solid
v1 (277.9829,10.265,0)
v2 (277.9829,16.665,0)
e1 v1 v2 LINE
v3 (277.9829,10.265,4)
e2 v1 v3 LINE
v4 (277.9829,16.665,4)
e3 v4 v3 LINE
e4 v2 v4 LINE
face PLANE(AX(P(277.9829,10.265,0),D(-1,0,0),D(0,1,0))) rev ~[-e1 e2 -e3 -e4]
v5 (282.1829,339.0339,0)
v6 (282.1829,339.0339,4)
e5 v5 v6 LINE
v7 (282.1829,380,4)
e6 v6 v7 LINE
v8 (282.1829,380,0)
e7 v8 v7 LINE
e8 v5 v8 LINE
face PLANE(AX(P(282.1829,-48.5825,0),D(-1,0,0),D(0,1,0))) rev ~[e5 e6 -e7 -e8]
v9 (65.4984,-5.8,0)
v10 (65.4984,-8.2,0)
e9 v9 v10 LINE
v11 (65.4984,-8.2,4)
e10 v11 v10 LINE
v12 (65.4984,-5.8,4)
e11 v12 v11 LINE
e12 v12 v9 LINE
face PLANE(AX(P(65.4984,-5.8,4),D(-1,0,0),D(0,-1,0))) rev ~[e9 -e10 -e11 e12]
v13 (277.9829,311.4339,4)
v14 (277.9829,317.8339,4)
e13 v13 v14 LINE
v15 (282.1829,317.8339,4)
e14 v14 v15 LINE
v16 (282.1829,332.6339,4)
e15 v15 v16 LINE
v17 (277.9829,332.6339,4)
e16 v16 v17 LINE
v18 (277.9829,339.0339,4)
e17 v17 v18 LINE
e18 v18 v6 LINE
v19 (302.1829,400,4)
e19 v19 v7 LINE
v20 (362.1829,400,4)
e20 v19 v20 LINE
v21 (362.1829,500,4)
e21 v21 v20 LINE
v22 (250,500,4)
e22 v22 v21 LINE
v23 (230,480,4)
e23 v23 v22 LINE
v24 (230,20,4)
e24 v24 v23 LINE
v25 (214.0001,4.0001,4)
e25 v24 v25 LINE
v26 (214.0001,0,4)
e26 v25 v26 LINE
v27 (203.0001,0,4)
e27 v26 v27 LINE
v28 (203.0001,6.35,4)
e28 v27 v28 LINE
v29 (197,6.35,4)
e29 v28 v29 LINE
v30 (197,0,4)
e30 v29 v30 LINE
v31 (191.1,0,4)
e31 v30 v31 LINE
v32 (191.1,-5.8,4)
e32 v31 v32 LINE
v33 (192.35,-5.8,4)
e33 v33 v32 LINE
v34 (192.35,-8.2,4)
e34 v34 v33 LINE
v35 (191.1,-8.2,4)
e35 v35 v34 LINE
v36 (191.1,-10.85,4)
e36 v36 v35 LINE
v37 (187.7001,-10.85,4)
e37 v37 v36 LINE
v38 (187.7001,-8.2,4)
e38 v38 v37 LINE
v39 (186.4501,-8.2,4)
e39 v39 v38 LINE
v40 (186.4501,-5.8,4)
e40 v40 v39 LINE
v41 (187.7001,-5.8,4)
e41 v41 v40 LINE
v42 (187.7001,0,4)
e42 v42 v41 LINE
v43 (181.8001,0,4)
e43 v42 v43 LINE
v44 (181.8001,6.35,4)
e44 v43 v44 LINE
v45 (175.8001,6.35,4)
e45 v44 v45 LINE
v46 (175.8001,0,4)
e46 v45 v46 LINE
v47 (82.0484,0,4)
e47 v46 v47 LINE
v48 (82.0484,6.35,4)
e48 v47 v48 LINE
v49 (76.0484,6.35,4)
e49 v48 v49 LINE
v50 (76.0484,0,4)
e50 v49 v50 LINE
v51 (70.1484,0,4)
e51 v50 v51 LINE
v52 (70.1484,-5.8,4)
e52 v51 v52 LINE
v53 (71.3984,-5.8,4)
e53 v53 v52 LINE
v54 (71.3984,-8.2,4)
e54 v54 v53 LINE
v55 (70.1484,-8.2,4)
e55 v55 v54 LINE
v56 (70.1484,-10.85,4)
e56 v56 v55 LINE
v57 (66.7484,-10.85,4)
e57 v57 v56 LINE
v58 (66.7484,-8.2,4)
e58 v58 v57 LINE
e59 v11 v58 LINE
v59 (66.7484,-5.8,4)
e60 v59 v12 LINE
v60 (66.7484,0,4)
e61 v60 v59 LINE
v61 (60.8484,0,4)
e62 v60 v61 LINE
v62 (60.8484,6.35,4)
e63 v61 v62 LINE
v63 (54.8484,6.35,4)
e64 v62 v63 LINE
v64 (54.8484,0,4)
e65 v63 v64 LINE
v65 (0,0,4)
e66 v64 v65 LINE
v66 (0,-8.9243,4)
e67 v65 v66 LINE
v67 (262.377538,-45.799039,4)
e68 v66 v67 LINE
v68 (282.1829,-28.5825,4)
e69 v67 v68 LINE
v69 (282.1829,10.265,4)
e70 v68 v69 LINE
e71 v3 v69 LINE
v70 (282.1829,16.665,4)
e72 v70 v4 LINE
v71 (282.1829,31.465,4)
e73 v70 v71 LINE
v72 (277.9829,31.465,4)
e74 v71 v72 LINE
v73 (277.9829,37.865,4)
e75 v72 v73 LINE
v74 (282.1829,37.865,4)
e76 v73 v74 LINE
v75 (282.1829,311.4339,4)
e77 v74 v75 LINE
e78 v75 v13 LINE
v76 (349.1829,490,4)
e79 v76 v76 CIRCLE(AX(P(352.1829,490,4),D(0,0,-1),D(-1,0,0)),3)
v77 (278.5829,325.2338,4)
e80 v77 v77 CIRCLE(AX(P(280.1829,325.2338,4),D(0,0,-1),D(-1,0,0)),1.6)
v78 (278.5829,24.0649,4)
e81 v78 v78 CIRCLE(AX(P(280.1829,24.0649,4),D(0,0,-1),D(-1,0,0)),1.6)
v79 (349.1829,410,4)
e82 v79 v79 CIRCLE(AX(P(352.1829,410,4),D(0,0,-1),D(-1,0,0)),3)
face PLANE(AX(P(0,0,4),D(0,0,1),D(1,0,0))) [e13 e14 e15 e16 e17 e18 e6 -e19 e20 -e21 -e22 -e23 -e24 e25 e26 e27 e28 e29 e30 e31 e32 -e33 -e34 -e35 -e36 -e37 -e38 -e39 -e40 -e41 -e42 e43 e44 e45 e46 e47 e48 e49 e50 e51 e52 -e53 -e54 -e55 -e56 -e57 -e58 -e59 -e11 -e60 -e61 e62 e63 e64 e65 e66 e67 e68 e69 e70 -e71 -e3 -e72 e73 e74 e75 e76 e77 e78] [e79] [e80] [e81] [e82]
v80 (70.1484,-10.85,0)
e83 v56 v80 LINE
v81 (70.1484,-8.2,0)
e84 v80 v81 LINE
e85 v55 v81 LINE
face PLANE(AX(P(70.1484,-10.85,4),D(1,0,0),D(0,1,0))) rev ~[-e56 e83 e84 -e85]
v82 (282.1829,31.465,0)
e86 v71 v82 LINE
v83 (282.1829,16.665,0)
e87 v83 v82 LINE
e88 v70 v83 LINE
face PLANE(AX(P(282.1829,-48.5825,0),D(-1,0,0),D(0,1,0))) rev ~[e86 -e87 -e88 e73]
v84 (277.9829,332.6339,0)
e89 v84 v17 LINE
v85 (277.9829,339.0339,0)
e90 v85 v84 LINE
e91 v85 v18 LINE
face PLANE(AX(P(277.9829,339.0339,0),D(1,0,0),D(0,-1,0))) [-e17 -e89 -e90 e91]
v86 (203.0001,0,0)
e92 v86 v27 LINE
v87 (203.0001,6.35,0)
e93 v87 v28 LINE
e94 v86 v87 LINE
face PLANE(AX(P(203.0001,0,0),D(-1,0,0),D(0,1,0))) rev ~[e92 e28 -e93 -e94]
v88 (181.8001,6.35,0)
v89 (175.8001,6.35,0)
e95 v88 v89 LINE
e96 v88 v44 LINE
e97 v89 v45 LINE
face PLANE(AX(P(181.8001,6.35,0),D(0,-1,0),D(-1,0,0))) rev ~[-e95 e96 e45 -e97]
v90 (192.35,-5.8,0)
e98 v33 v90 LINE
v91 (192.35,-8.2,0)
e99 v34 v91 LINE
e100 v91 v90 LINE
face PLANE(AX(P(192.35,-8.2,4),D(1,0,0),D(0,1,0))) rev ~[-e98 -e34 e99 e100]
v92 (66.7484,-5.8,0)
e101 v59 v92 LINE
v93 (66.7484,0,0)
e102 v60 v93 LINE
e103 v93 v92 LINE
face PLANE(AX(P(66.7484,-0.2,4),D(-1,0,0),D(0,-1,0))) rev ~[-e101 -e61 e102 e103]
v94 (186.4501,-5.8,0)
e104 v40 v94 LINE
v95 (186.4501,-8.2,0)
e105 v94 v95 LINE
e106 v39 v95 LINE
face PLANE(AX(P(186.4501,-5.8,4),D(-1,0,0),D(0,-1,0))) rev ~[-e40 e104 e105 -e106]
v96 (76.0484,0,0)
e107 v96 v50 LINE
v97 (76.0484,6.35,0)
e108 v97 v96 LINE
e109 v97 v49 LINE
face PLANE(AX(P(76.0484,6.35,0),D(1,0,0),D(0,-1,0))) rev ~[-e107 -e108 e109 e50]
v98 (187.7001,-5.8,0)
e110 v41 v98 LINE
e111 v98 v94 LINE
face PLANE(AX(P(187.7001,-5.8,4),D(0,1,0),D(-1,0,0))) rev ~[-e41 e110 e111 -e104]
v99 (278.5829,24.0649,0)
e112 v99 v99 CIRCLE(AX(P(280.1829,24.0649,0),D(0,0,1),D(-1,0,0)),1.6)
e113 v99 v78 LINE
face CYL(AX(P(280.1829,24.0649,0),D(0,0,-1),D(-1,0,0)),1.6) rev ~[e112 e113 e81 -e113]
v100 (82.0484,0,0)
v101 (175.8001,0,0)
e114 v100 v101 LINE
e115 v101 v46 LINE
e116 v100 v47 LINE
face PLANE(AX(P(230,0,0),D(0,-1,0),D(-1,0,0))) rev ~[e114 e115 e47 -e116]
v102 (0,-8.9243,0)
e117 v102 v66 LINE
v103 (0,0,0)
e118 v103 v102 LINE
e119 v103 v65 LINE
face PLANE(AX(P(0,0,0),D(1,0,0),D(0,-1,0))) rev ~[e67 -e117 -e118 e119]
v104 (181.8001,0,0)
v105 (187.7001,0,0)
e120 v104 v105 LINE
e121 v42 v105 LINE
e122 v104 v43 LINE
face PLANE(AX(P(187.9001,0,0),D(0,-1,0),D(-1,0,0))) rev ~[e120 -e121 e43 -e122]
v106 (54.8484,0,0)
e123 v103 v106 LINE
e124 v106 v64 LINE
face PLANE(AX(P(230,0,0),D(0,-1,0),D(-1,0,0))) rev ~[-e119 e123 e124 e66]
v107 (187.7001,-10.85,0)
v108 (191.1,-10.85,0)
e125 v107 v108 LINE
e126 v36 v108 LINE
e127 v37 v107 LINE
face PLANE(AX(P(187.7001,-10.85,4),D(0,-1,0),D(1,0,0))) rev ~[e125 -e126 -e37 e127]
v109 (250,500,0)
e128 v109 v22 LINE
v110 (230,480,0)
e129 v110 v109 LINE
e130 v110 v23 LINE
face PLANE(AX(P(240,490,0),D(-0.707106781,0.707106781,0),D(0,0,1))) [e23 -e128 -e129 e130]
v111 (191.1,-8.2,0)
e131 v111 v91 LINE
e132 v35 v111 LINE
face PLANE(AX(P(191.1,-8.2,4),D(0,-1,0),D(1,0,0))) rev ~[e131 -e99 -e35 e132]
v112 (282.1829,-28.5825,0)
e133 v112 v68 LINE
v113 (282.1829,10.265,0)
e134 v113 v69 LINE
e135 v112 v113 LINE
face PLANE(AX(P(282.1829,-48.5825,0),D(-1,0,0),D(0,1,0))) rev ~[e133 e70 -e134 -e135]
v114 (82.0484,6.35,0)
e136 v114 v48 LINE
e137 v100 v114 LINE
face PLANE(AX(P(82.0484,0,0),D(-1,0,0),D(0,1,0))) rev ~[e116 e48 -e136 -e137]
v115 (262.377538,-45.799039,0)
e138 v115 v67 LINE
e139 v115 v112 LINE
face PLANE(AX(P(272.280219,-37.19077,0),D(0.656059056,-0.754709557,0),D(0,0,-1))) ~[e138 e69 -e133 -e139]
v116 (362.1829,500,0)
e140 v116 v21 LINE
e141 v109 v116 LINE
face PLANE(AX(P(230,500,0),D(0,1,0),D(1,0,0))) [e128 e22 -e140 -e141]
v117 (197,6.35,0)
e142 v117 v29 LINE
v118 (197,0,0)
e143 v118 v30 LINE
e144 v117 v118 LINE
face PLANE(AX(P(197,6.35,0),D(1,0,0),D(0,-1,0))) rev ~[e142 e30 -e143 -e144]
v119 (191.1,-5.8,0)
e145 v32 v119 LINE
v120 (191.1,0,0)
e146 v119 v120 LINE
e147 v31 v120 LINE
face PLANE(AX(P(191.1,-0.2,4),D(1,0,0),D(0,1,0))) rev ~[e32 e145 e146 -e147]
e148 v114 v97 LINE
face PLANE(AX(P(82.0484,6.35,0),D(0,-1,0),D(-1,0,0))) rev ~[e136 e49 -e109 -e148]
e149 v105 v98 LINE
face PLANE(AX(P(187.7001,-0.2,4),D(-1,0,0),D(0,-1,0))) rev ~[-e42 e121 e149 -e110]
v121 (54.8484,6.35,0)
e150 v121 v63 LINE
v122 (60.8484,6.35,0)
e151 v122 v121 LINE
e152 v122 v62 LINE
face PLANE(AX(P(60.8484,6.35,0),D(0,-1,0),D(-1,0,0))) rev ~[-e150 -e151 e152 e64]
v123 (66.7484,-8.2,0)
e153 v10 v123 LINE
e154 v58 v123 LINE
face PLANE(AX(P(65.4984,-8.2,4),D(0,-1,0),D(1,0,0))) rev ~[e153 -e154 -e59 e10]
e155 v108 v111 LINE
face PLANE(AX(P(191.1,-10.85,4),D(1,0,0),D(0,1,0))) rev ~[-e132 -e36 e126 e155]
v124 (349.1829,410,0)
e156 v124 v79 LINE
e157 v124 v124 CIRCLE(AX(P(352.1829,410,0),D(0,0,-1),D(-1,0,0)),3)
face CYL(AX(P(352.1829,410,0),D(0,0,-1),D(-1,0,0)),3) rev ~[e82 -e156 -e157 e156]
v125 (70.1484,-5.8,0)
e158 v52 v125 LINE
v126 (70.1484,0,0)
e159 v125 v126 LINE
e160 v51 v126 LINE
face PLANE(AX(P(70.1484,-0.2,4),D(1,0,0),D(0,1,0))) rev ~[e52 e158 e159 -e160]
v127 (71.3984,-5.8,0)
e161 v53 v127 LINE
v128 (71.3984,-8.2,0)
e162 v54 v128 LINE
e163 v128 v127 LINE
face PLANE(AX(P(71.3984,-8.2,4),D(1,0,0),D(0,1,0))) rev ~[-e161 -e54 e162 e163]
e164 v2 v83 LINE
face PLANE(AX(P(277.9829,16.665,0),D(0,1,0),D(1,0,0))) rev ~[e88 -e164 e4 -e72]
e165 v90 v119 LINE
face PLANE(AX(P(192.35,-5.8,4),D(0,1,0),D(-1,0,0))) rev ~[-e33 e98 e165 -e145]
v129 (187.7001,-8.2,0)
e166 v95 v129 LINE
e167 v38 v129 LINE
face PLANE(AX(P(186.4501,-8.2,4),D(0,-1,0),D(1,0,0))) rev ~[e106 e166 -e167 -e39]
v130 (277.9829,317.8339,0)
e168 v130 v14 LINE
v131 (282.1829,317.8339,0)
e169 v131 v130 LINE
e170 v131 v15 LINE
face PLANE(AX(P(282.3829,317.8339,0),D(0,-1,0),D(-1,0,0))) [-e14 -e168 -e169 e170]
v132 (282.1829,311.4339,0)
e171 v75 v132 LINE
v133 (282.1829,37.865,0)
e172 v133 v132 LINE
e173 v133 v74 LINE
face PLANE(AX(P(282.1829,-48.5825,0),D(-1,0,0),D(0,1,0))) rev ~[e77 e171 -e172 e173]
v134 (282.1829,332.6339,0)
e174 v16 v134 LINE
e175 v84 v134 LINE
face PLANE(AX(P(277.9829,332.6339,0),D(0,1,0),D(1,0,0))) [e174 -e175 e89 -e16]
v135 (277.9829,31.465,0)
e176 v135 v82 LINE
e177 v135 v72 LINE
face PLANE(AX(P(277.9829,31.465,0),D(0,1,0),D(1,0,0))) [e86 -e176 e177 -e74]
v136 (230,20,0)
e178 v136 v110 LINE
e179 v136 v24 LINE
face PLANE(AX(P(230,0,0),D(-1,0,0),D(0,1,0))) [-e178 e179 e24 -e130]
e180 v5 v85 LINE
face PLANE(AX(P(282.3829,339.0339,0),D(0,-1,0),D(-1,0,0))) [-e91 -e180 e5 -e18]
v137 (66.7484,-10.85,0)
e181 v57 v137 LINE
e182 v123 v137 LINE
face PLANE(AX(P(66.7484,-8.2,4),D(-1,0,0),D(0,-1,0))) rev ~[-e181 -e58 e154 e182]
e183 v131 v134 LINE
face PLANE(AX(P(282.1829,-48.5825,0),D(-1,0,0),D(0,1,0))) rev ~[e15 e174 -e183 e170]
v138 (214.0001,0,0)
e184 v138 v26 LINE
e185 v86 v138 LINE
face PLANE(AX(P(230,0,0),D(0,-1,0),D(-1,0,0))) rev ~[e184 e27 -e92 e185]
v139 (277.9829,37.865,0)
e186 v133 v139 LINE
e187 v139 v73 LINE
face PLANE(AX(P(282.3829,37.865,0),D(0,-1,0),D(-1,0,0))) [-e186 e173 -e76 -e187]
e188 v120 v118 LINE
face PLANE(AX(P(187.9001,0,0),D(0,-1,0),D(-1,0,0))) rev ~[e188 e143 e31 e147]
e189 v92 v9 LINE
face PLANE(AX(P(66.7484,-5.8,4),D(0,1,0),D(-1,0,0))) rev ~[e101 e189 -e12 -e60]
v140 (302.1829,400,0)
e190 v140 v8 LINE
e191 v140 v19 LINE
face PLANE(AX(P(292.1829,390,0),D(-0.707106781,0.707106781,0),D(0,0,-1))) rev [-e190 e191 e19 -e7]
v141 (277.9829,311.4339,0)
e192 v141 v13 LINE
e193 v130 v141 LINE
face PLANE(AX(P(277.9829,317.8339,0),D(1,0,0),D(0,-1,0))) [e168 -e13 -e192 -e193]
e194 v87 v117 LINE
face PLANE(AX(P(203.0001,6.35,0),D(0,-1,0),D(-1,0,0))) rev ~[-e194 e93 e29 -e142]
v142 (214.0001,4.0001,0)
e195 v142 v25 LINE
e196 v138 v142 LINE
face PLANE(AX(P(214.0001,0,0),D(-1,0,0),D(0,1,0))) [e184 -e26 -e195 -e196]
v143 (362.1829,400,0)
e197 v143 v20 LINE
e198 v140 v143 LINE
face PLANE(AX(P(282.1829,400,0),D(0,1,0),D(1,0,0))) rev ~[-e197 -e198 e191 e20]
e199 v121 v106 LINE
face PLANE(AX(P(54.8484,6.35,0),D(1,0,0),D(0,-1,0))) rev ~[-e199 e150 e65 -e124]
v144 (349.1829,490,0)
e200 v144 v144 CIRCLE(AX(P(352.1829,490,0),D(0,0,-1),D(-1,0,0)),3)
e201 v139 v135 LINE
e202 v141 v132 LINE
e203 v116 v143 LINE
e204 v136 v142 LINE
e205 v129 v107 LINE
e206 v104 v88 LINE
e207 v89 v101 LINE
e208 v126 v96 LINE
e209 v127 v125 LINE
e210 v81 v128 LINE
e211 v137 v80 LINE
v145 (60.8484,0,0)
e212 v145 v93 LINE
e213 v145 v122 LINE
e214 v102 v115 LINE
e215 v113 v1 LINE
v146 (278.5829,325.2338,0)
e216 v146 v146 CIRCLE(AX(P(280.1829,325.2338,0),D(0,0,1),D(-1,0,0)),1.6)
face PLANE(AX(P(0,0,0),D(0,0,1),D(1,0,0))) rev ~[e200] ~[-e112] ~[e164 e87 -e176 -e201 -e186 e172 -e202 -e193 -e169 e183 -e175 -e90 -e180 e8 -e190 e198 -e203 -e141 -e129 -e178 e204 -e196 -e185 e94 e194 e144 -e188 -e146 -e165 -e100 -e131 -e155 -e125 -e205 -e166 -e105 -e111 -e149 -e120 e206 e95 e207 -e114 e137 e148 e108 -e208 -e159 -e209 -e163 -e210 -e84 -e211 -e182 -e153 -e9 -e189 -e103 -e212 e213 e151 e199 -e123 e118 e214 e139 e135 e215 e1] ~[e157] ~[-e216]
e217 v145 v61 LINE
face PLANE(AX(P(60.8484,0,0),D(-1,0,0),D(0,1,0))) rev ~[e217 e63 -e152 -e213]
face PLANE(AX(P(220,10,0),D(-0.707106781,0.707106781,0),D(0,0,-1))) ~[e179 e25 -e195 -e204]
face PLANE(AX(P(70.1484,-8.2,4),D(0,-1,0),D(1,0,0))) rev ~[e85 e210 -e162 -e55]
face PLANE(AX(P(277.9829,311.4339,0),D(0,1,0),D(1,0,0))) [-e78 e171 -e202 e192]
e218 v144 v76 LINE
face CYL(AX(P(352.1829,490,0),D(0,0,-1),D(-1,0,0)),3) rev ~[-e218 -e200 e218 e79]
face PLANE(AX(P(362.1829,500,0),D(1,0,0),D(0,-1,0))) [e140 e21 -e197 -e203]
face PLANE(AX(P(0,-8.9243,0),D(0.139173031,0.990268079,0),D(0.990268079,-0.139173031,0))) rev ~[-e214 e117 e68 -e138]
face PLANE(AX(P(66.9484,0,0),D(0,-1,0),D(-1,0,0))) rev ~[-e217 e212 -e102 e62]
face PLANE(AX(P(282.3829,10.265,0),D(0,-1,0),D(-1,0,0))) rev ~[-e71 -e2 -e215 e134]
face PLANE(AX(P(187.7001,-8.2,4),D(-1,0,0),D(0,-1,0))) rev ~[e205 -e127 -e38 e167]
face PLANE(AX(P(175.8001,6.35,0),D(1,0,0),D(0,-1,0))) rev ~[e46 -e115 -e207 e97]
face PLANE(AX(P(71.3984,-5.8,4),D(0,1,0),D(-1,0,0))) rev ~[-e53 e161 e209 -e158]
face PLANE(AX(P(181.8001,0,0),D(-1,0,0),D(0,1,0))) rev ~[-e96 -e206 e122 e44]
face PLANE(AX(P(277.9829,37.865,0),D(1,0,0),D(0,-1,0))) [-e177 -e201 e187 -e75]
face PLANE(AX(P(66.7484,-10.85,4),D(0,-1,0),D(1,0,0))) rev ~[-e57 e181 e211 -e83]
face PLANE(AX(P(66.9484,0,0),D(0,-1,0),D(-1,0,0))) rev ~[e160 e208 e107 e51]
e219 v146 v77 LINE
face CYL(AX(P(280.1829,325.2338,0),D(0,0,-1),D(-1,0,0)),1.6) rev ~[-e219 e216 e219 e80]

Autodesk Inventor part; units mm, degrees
ref_plane "YZ Plane" through (0, 0, 0) normal (1, 0, 0) x (0, 1, 0)
ref_plane "XZ Plane" through (0, 0, 0) normal (0, 1, 0) x (-1, 0, 0)
ref_plane "XY Plane" through (0, 0, 0) normal (0, 0, 1) x (1, 0, 0)
sketch "Sketch1" plane through (0, 0, 0) normal (0, 0, 1) x (1, 0, 0)
  line L0 (230, 0) -> (0, 0) projected
  line L1 (0, 0) -> (0, -8.9243)
  line L2 (0, -8.9243) -> (282.1829, -48.5825)
  line L3 (282.1829, -48.5825) -> (282.1829, 400)
  line L4 (230, 0) -> (230, 500)
  line L5 (282.1829, 400) -> (362.1829, 400)
  line L6 (230, 500) -> (362.1829, 500)
  line L7 (362.1829, 500) -> (362.1829, 400)
  dimension "d0" = 400
  dimension "d1" = 8
  dimension "d10" = 80
  dimension "d11" = 100
extrude "Extrusion1" add sketch "Sketch1" along normal blind 4
chamfer "Chamfer1" distance 20 angle 45 2 edges at (230, 500, 2) (282.1829, 400, 2)
chamfer "Chamfer2" distance 20 angle 45 2 edges at (230, 0, 2) (282.1829, -48.5825, 2)
sketch "Sketch2" plane through (0, 0, 0) normal (0, 0, -1) x (-1, 0, 0)
  point P0 (0, 0)
sketch "Sketch3" plane through (0, 0, 0) normal (0, 0, -1) x (-1, 0, 0)
  point P0 (0, 0)
sketch "Sketch4" plane through (0, 0, 0) normal (0, 0, -1) x (-1, 0, 0)
  point P0 (0, 0)
sketch "Sketch5" plane through (0, 0, 0) normal (0, 0, -1) x (-1, 0, 0)
  line L0 (-278.1829, 10.465) -> (-278.1829, 16.465) construction
  line L1 (-282.1829, 16.465) -> (-278.1829, 16.465) construction
  line L2 (-282.1829, 10.465) -> (-282.1829, 16.465) construction
  line L3 (-282.1829, 10.465) -> (-278.1829, 10.465) construction
  line L4 (-278.1829, 31.665) -> (-278.1829, 37.665) construction
  line L5 (-282.1829, 37.665) -> (-278.1829, 37.665) construction
  line L6 (-282.1829, 31.665) -> (-282.1829, 37.665) construction
  line L7 (-282.1829, 31.665) -> (-278.1829, 31.665) construction
  line L8 (-278.1829, 332.8339) -> (-278.1829, 338.8339) construction
  line L9 (-282.1829, 338.8339) -> (-278.1829, 338.8339) construction
  line L10 (-282.1829, 332.8339) -> (-282.1829, 338.8339) construction
  line L11 (-282.1829, 332.8339) -> (-278.1829, 332.8339) construction
  line L12 (-278.1829, 311.6339) -> (-278.1829, 317.6339) construction
  line L13 (-282.1829, 317.6339) -> (-278.1829, 317.6339) construction
  line L14 (-282.1829, 311.6339) -> (-282.1829, 317.6339) construction
  line L15 (-282.1829, 311.6339) -> (-278.1829, 311.6339) construction
  line L16 (-277.9829, 339.0339) -> (-277.9829, 332.6339)
  line L17 (-277.9829, 332.6339) -> (-282.3829, 332.6339)
  line L18 (-282.3829, 332.6339) -> (-282.3829, 339.0339)
  line L19 (-282.3829, 339.0339) -> (-277.9829, 339.0339)
  line L20 (-277.9829, 317.8339) -> (-277.9829, 311.4339)
  line L21 (-277.9829, 311.4339) -> (-282.3829, 311.4339)
  line L22 (-282.3829, 311.4339) -> (-282.3829, 317.8339)
  line L23 (-282.3829, 317.8339) -> (-277.9829, 317.8339)
  line L24 (-277.9829, 37.865) -> (-277.9829, 31.465)
  line L25 (-277.9829, 31.465) -> (-282.3829, 31.465)
  line L26 (-282.3829, 31.465) -> (-282.3829, 37.865)
  line L27 (-282.3829, 37.865) -> (-277.9829, 37.865)
  line L28 (-277.9829, 10.265) -> (-277.9829, 16.665)
  line L29 (-277.9829, 16.665) -> (-282.3829, 16.665)
  line L30 (-282.3829, 16.665) -> (-282.3829, 10.265)
  line L31 (-282.3829, 10.265) -> (-277.9829, 10.265)
  point P0 (0, 0)
  dimension "d24" = 0.2
  dimension "d25" = 0.2
  dimension "d26" = 0.2
  dimension "d27" = 0.2
extrude "Extrusion2" cut sketch "Sketch5" against normal blind 25.4
sketch "Sketch6" plane through (0, 0, 0) normal (0, 0, -1) x (-1, 0, 0)
  line L0 (-278.1829, 25.5649) -> (-278.1829, 22.5649) projected
  line L1 (-282.1829, 25.5649) -> (-278.1829, 25.5649) projected
  line L2 (-282.1829, 22.5649) -> (-282.1829, 25.5649) projected
  line L3 (-282.1829, 22.5649) -> (-278.1829, 22.5649) projected
  line L4 (-278.1829, 326.7338) -> (-278.1829, 323.7338) projected
  line L5 (-282.1829, 326.7338) -> (-278.1829, 326.7338) projected
  line L6 (-282.1829, 323.7338) -> (-282.1829, 326.7338) projected
  line L7 (-282.1829, 323.7338) -> (-278.1829, 323.7338) projected
  circle A0 centre (-280.1829, 325.2338) radius 1.6
  circle A1 centre (-280.1829, 24.0649) radius 1.6
  point P0 (0, 0)
  dimension "d14" = 3.2
  dimension "d15" = 3.2
extrude "Extrusion3" cut sketch "Sketch6" against normal through all contours A1 L3 L1 | L1 A1 | A1 L3 | A0 L7 L5 | L5 A0 | A0 L7
sketch "Sketch7" plane through (0, 0, 0) normal (0, 0, -1) x (-1, 0, 0)
  line L0 (-230, 4.0001) -> (-214.0001, 4.0001) projected
  line L1 (-210, 0) -> (-230, 20) projected
  line L2 (-210, 0) -> (-214.0001, 0)
  line L3 (-214.0001, 0) -> (-214.0001, 4.0001)
  line L4 (-214.0001, 4.0001) -> (-210, 4.0001)
  line L5 (-210, 4.0001) -> (-210, 0)
  point P0 (0, 0)
extrude "Extrusion4" cut sketch "Sketch7" against normal blind 25.4
sketch "Sketch8" plane through (0, 0, 0) normal (0, 0, -1) x (-1, 0, 0)
  line L0 (-209.8759, -14.6536) -> (-209.8759, 0) projected
  line L1 (-168.9242, -14.6536) -> (-209.8759, -14.6536) projected
  line L2 (-168.9242, 0) -> (-168.9242, -14.6536) projected
  line L3 (-175.8001, 0) -> (-168.9242, 0) projected
  line L4 (-175.8001, 6.35) -> (-175.8001, 0) projected
  line L5 (-181.8001, 6.35) -> (-175.8001, 6.35) projected
  line L6 (-181.8001, 0) -> (-181.8001, 6.35) projected
  line L7 (-187.9001, 0) -> (-181.8001, 0) projected
  line L8 (-187.9001, -6) -> (-187.9001, 0) projected
  line L9 (-186.6501, -6) -> (-187.9001, -6) projected
  line L10 (-186.6501, -8) -> (-186.6501, -6) projected
  line L11 (-187.9001, -8) -> (-186.6501, -8) projected
  line L12 (-187.9001, -10.65) -> (-187.9001, -8) projected
  line L13 (-190.9, -10.65) -> (-187.9001, -10.65) projected
  line L14 (-190.9, -8) -> (-190.9, -10.65) projected
  line L15 (-192.15, -8) -> (-190.9, -8) projected
  line L16 (-192.15, -6) -> (-192.15, -8) projected
  line L17 (-190.9, -6) -> (-192.15, -6) projected
  line L18 (-190.9, 0) -> (-190.9, -6) projected
  line L19 (-197, 0) -> (-190.9, 0) projected
  line L20 (-197, 6.35) -> (-197, 0) projected
  line L21 (-203.0001, 6.35) -> (-197, 6.35) projected
  line L22 (-203.0001, 0) -> (-203.0001, 6.35) projected
  line L23 (-209.8759, 0) -> (-203.0001, 0) projected
  line L24 (-88.9242, -14.6536) -> (-88.9242, 0) projected
  line L25 (-47.9725, -14.6536) -> (-88.9242, -14.6536) projected
  line L26 (-47.9725, 0) -> (-47.9725, -14.6536) projected
  line L27 (-54.8484, 0) -> (-47.9725, 0) projected
  line L28 (-54.8484, 6.35) -> (-54.8484, 0) projected
  line L29 (-60.8484, 6.35) -> (-54.8484, 6.35) projected
  line L30 (-60.8484, 0) -> (-60.8484, 6.35) projected
  line L31 (-66.9484, 0) -> (-60.8484, 0) projected
  line L32 (-66.9484, -6) -> (-66.9484, 0) projected
  line L33 (-65.6984, -6) -> (-66.9484, -6) projected
  line L34 (-65.6984, -8) -> (-65.6984, -6) projected
  line L35 (-66.9484, -8) -> (-65.6984, -8) projected
  line L36 (-66.9484, -10.65) -> (-66.9484, -8) projected
  line L37 (-69.9484, -10.65) -> (-66.9484, -10.65) projected
  line L38 (-69.9484, -8) -> (-69.9484, -10.65) projected
  line L39 (-71.1984, -8) -> (-69.9484, -8) projected
  line L40 (-71.1984, -6) -> (-71.1984, -8) projected
  line L41 (-69.9484, -6) -> (-71.1984, -6) projected
  line L42 (-69.9484, 0) -> (-69.9484, -6) projected
  line L43 (-76.0484, 0) -> (-69.9484, 0) projected
  line L44 (-76.0484, 6.35) -> (-76.0484, 0) projected
  line L45 (-82.0484, 6.35) -> (-76.0484, 6.35) projected
  line L46 (-82.0484, 0) -> (-82.0484, 6.35) projected
  line L47 (-88.9242, 0) -> (-82.0484, 0) projected
  point P0 (0, 0)
extrude "Extrusion5" add sketch "Sketch8" against normal up to surface (4 mm away)
sketch "Sketch10" plane through (0, 0, 0) normal (0, 0, -1) x (-1, 0, 0)
  line L0 (-209.8759, -14.6536) -> (-209.8759, 0) projected
  line L1 (-168.9242, -14.6536) -> (-209.8759, -14.6536) projected
  line L2 (-168.9242, 0) -> (-168.9242, -14.6536) projected
  line L3 (-175.8001, 0) -> (-168.9242, 0) projected
  line L4 (-175.8001, 6.35) -> (-175.8001, 0) projected
  line L5 (-181.8001, 6.35) -> (-175.8001, 6.35) projected
  line L6 (-181.8001, 0) -> (-181.8001, 6.35) projected
  line L7 (-187.9001, 0) -> (-181.8001, 0) projected
  line L8 (-187.9001, -6) -> (-187.9001, 0) projected
  line L9 (-186.6501, -6) -> (-187.9001, -6) projected
  line L10 (-186.6501, -8) -> (-186.6501, -6) projected
  line L11 (-187.9001, -8) -> (-186.6501, -8) projected
  line L12 (-187.9001, -10.65) -> (-187.9001, -8) projected
  line L13 (-190.9, -10.65) -> (-187.9001, -10.65) projected
  line L14 (-190.9, -8) -> (-190.9, -10.65) projected
  line L15 (-192.15, -8) -> (-190.9, -8) projected
  line L16 (-192.15, -6) -> (-192.15, -8) projected
  line L17 (-190.9, -6) -> (-192.15, -6) projected
  line L18 (-190.9, 0) -> (-190.9, -6) projected
  line L19 (-197, 0) -> (-190.9, 0) projected
  line L20 (-197, 6.35) -> (-197, 0) projected
  line L21 (-203.0001, 6.35) -> (-197, 6.35) projected
  line L22 (-203.0001, 0) -> (-203.0001, 6.35) projected
  line L23 (-209.8759, 0) -> (-203.0001, 0) projected
  line L24 (-88.9242, -14.6536) -> (-88.9242, 0) projected
  line L25 (-47.9725, -14.6536) -> (-88.9242, -14.6536) projected
  line L26 (-47.9725, 0) -> (-47.9725, -14.6536) projected
  line L27 (-54.8484, 0) -> (-47.9725, 0) projected
  line L28 (-54.8484, 6.35) -> (-54.8484, 0) projected
  line L29 (-60.8484, 6.35) -> (-54.8484, 6.35) projected
  line L30 (-60.8484, 0) -> (-60.8484, 6.35) projected
  line L31 (-66.9484, 0) -> (-60.8484, 0) projected
  line L32 (-66.9484, -6) -> (-66.9484, 0) projected
  line L33 (-65.6984, -6) -> (-66.9484, -6) projected
  line L34 (-65.6984, -8) -> (-65.6984, -6) projected
  line L35 (-66.9484, -8) -> (-65.6984, -8) projected
  line L36 (-66.9484, -10.65) -> (-66.9484, -8) projected
  line L37 (-69.9484, -10.65) -> (-66.9484, -10.65) projected
  line L38 (-69.9484, -8) -> (-69.9484, -10.65) projected
  line L39 (-71.1984, -8) -> (-69.9484, -8) projected
  line L40 (-71.1984, -6) -> (-71.1984, -8) projected
  line L41 (-69.9484, -6) -> (-71.1984, -6) projected
  line L42 (-69.9484, 0) -> (-69.9484, -6) projected
  line L43 (-76.0484, 0) -> (-69.9484, 0) projected
  line L44 (-76.0484, 6.35) -> (-76.0484, 0) projected
  line L45 (-82.0484, 6.35) -> (-76.0484, 6.35) projected
  line L46 (-82.0484, 0) -> (-82.0484, 6.35) projected
  line L47 (-88.9242, 0) -> (-82.0484, 0) projected
  line L48 (-190.9, 0) -> (-187.9001, 0)
  line L49 (-197, 0) -> (-181.8001, 0) projected
  line L50 (-69.9484, 0) -> (-66.9484, 0)
  line L51 (-76.0484, 0) -> (-60.8484, 0) projected
  point P0 (0, 0)
extrude "Extrusion6" cut sketch "Sketch10" against normal blind 25.4 contours L48 L8 L9 L10 L11 L12 L13 L14 L15 L16 L17 L18 | L50 L32 L33 L34 L35 L36 L37 L38 L39 L40 L41 L42
sketch "Sketch11" plane through (0, 0, 0) normal (0, 0, -1) x (-1, 0, 0)
  line L0 (-342.1829, 500) -> (-342.1829, 400) projected
  circle A0 centre (-352.1829, 490) radius 3
  circle A1 centre (-352.1829, 410) radius 3
  line L1 (-362.1829, 500) -> (-362.1829, 400) projected
  line L2 (-250, 500) -> (-362.1829, 500) projected
  line L3 (-362.1829, 400) -> (-302.1829, 400) projected
  point P0 (0, 0)
  dimension "d28" = 6
  dimension "d29" = 6
  dimension "d30" = 10
  dimension "d31" = 10
  dimension "d32" = 10
  dimension "d33" = 10
extrude "Extrusion7" cut sketch "Sketch11" against normal blind 25.4 contours A0 | A1
sketch "Sketch12" plane through (0, 0, 4) normal (0, 0, 1) x (1, 0, 0)
  circle A0 centre (352.1829, 490) radius 3 projected
  circle A1 centre (352.1829, 410) radius 3 projected
  line L0 (187.9001, -6) -> (187.9001, 0) projected
  line L1 (187.9001, 0) -> (181.8001, 0) projected
  line L2 (181.8001, 6.35) -> (181.8001, 0) projected
  line L3 (175.8001, 6.35) -> (181.8001, 6.35) projected
  line L4 (175.8001, 0) -> (175.8001, 6.35) projected
  line L5 (175.8001, 0) -> (82.0484, 0) projected
  line L6 (82.0484, 6.35) -> (82.0484, 0) projected
  line L7 (76.0484, 6.35) -> (82.0484, 6.35) projected
  line L8 (76.0484, 0) -> (76.0484, 6.35) projected
  line L9 (76.0484, 0) -> (69.9484, 0) projected
  line L10 (69.9484, 0) -> (69.9484, -6) projected
  line L11 (69.9484, -6) -> (71.1984, -6) projected
  line L12 (71.1984, -6) -> (71.1984, -8) projected
  line L13 (71.1984, -8) -> (69.9484, -8) projected
  line L14 (69.9484, -8) -> (69.9484, -10.65) projected
  line L15 (69.9484, -10.65) -> (66.9484, -10.65) projected
  line L16 (66.9484, -10.65) -> (66.9484, -8) projected
  line L17 (66.9484, -8) -> (65.6984, -8) projected
  line L18 (65.6984, -8) -> (65.6984, -6) projected
  line L19 (65.6984, -6) -> (66.9484, -6) projected
  line L20 (66.9484, -6) -> (66.9484, 0) projected
  line L21 (66.9484, 0) -> (60.8484, 0) projected
  line L22 (60.8484, 6.35) -> (60.8484, 0) projected
  line L23 (54.8484, 6.35) -> (60.8484, 6.35) projected
  line L24 (54.8484, 0) -> (54.8484, 6.35) projected
  line L25 (54.8484, 0) -> (0, 0) projected
  line L26 (0, 0) -> (0, -8.9243) projected
  line L27 (0, -8.9243) -> (262.3776, -45.7991) projected
  line L28 (282.1829, -28.5825) -> (262.3776, -45.7991) projected
  line L29 (282.1829, -28.5825) -> (282.1829, 10.265) projected
  line L30 (282.1829, 10.265) -> (277.9829, 10.265) projected
  line L31 (277.9829, 10.265) -> (277.9829, 16.665) projected
  line L32 (277.9829, 16.665) -> (282.1829, 16.665) projected
  line L33 (282.1829, 16.665) -> (282.1829, 31.465) projected
  line L34 (282.1829, 31.465) -> (277.9829, 31.465) projected
  line L35 (277.9829, 31.465) -> (277.9829, 37.865) projected
  line L36 (277.9829, 37.865) -> (282.1829, 37.865) projected
  line L37 (282.1829, 37.865) -> (282.1829, 311.4339) projected
  line L38 (282.1829, 311.4339) -> (277.9829, 311.4339) projected
  line L39 (277.9829, 311.4339) -> (277.9829, 317.8339) projected
  line L40 (277.9829, 317.8339) -> (282.1829, 317.8339) projected
  line L41 (282.1829, 317.8339) -> (282.1829, 332.6339) projected
  line L42 (282.1829, 332.6339) -> (277.9829, 332.6339) projected
  line L43 (277.9829, 332.6339) -> (277.9829, 339.0339) projected
  line L44 (277.9829, 339.0339) -> (282.1829, 339.0339) projected
  line L45 (282.1829, 339.0339) -> (282.1829, 380) projected
  line L46 (302.1829, 400) -> (282.1829, 380) projected
  line L47 (302.1829, 400) -> (362.1829, 400) projected
  line L48 (362.1829, 400) -> (362.1829, 500) projected
  line L49 (362.1829, 500) -> (250, 500) projected
  line L50 (230, 480) -> (250, 500) projected
  line L51 (230, 480) -> (230, 20) projected
  line L52 (214.0001, 4.0001) -> (230, 20) projected
  line L53 (214.0001, 4.0001) -> (214.0001, 0) projected
  line L54 (214.0001, 0) -> (203.0001, 0) projected
  line L55 (203.0001, 6.35) -> (203.0001, 0) projected
  line L56 (197, 6.35) -> (203.0001, 6.35) projected
  line L57 (197, 0) -> (197, 6.35) projected
  line L58 (197, 0) -> (190.9, 0) projected
  line L59 (190.9, 0) -> (190.9, -6) projected
  line L60 (190.9, -6) -> (192.15, -6) projected
  line L61 (192.15, -6) -> (192.15, -8) projected
  line L62 (192.15, -8) -> (190.9, -8) projected
  line L63 (190.9, -8) -> (190.9, -10.65) projected
  line L64 (190.9, -10.65) -> (187.9001, -10.65) projected
  line L65 (187.9001, -10.65) -> (187.9001, -8) projected
  line L66 (187.9001, -8) -> (186.6501, -8) projected
  line L67 (186.6501, -8) -> (186.6501, -6) projected
  line L68 (186.6501, -6) -> (187.9001, -6) projected
  circle A2 centre (280.1829, 24.0649) radius 1.6 projected
  circle A3 centre (280.1829, 325.2338) radius 1.6 projected
  line L69 (66.7484, -0.2) -> (66.7484, -5.8)
  line L70 (66.7484, -5.8) -> (65.4984, -5.8)
  line L71 (65.4984, -5.8) -> (65.4984, -8.2)
  line L72 (65.4984, -8.2) -> (66.7484, -8.2)
  line L73 (66.7484, -8.2) -> (66.7484, -10.85)
  line L74 (66.7484, -10.85) -> (70.1484, -10.85)
  line L75 (70.1484, -10.85) -> (70.1484, -8.2)
  line L76 (70.1484, -8.2) -> (71.3984, -8.2)
  line L77 (71.3984, -8.2) -> (71.3984, -5.8)
  line L78 (71.3984, -5.8) -> (70.1484, -5.8)
  line L79 (70.1484, -5.8) -> (70.1484, -0.2)
  line L80 (76.2484, -0.2) -> (76.2484, 6.15)
  line L81 (76.2484, 6.15) -> (81.8484, 6.15)
  line L82 (81.8484, 6.15) -> (81.8484, -0.2)
  line L83 (81.8484, -0.2) -> (176.0001, -0.2)
  line L84 (176.0001, -0.2) -> (176.0001, 6.15)
  line L85 (176.0001, 6.15) -> (181.6001, 6.15)
  line L86 (181.6001, 6.15) -> (181.6001, -0.2)
  line L87 (187.7001, -0.2) -> (187.7001, -5.8)
  line L88 (187.7001, -5.8) -> (186.4501, -5.8)
  line L89 (186.4501, -5.8) -> (186.4501, -8.2)
  line L90 (186.4501, -8.2) -> (187.7001, -8.2)
  line L91 (187.7001, -8.2) -> (187.7001, -10.85)
  line L92 (187.7001, -10.85) -> (191.1, -10.85)
  line L93 (191.1, -10.85) -> (191.1, -8.2)
  line L94 (191.1, -8.2) -> (192.35, -8.2)
  line L95 (192.35, -8.2) -> (192.35, -5.8)
  line L96 (192.35, -5.8) -> (191.1, -5.8)
  line L97 (191.1, -5.8) -> (191.1, -0.2)
  line L98 (197.2, -0.2) -> (197.2, 6.15)
  line L99 (197.2, 6.15) -> (202.8001, 6.15)
  line L100 (202.8001, 6.15) -> (202.8001, -0.2)
  line L101 (202.8001, -0.2) -> (214.2001, -0.2)
  line L102 (214.2001, -0.2) -> (214.2001, 3.9172)
  line L103 (214.2001, 3.9172) -> (230.2, 19.9172)
  line L104 (230.2, 19.9172) -> (230.2, 479.9172)
  line L105 (230.2, 479.9172) -> (250.0828, 499.8)
  line L106 (250.0828, 499.8) -> (361.9829, 499.8)
  line L107 (361.9829, 499.8) -> (361.9829, 400.2)
  line L108 (361.9829, 400.2) -> (302.1001, 400.2)
  line L109 (302.1001, 400.2) -> (281.9829, 380.0828)
  line L110 (281.9829, 380.0828) -> (281.9829, 339.2339)
  line L111 (281.9829, 339.2339) -> (277.7829, 339.2339)
  line L112 (277.7829, 339.2339) -> (277.7829, 332.4339)
  line L113 (277.7829, 332.4339) -> (281.9829, 332.4339)
  line L114 (281.9829, 332.4339) -> (281.9829, 318.0339)
  line L115 (281.9829, 318.0339) -> (277.7829, 318.0339)
  line L116 (277.7829, 318.0339) -> (277.7829, 311.2339)
  line L117 (277.7829, 311.2339) -> (281.9829, 311.2339)
  line L118 (281.9829, 311.2339) -> (281.9829, 38.065)
  line L119 (281.9829, 38.065) -> (277.7829, 38.065)
  line L120 (277.7829, 38.065) -> (277.7829, 31.265)
  line L121 (277.7829, 31.265) -> (281.9829, 31.265)
  line L122 (281.9829, 31.265) -> (281.9829, 16.865)
  line L123 (281.9829, 16.865) -> (277.7829, 16.865)
  line L124 (277.7829, 16.865) -> (277.7829, 10.065)
  line L125 (277.7829, 10.065) -> (281.9829, 10.065)
  line L126 (281.9829, 10.065) -> (281.9829, -28.4914)
  line L127 (281.9829, -28.4914) -> (262.3152, -45.5883)
  line L128 (262.3152, -45.5883) -> (0.2, -8.7504)
  line L129 (0.2, -8.7504) -> (0.2, -0.2)
  line L130 (0.2, -0.2) -> (55.0484, -0.2)
  line L131 (55.0484, -0.2) -> (55.0484, 6.15)
  line L132 (55.0484, 6.15) -> (60.6484, 6.15)
  line L133 (60.6484, 6.15) -> (60.6484, -0.2)
  line L134 (69.9484, 0) -> (76.0484, 0) projected
  line L135 (70.1484, -0.2) -> (70.1484, 0)
  line L136 (70.1484, 0) -> (66.7484, 0)
  line L137 (66.7484, 0) -> (66.7484, -0.2)
  line L138 (190.9, 0) -> (197, 0) projected
  line L139 (191.1, -0.2) -> (191.1, 0)
  line L140 (191.1, 0) -> (187.7001, 0)
  line L141 (187.7001, 0) -> (187.7001, -0.2)
  line L142 (181.6001, -0.2) -> (181.8001, -0.2)
  line L143 (197, -0.2) -> (197.2, -0.2)
  dimension "d36" = 0.2
extrude "Extrusion8" cut sketch "Sketch12" against normal blind 25.4 contours L68 L67 L66 L65 L64 L63 L62 L61 L60 L59 L58 L139 L97 L96 L95 L94 L93 L92 L91 L90 L89 L88 L87 L141 L1 L0 | L0 L140 L59 L60 L61 L62 L63 L64 L65 L66 L67 L68 | L135 L79 L78 L77 L76 L75 L74 L73 L72 L71 L70 L69 L137 L21 L20 L19 L18 L17 L16 L15 L14 L13 L12 L11 L10 L9 | L10 L11 L12 L13 L14 L15 L16 L17 L18 L19 L20 L136
properties part number "Z stage_side"
